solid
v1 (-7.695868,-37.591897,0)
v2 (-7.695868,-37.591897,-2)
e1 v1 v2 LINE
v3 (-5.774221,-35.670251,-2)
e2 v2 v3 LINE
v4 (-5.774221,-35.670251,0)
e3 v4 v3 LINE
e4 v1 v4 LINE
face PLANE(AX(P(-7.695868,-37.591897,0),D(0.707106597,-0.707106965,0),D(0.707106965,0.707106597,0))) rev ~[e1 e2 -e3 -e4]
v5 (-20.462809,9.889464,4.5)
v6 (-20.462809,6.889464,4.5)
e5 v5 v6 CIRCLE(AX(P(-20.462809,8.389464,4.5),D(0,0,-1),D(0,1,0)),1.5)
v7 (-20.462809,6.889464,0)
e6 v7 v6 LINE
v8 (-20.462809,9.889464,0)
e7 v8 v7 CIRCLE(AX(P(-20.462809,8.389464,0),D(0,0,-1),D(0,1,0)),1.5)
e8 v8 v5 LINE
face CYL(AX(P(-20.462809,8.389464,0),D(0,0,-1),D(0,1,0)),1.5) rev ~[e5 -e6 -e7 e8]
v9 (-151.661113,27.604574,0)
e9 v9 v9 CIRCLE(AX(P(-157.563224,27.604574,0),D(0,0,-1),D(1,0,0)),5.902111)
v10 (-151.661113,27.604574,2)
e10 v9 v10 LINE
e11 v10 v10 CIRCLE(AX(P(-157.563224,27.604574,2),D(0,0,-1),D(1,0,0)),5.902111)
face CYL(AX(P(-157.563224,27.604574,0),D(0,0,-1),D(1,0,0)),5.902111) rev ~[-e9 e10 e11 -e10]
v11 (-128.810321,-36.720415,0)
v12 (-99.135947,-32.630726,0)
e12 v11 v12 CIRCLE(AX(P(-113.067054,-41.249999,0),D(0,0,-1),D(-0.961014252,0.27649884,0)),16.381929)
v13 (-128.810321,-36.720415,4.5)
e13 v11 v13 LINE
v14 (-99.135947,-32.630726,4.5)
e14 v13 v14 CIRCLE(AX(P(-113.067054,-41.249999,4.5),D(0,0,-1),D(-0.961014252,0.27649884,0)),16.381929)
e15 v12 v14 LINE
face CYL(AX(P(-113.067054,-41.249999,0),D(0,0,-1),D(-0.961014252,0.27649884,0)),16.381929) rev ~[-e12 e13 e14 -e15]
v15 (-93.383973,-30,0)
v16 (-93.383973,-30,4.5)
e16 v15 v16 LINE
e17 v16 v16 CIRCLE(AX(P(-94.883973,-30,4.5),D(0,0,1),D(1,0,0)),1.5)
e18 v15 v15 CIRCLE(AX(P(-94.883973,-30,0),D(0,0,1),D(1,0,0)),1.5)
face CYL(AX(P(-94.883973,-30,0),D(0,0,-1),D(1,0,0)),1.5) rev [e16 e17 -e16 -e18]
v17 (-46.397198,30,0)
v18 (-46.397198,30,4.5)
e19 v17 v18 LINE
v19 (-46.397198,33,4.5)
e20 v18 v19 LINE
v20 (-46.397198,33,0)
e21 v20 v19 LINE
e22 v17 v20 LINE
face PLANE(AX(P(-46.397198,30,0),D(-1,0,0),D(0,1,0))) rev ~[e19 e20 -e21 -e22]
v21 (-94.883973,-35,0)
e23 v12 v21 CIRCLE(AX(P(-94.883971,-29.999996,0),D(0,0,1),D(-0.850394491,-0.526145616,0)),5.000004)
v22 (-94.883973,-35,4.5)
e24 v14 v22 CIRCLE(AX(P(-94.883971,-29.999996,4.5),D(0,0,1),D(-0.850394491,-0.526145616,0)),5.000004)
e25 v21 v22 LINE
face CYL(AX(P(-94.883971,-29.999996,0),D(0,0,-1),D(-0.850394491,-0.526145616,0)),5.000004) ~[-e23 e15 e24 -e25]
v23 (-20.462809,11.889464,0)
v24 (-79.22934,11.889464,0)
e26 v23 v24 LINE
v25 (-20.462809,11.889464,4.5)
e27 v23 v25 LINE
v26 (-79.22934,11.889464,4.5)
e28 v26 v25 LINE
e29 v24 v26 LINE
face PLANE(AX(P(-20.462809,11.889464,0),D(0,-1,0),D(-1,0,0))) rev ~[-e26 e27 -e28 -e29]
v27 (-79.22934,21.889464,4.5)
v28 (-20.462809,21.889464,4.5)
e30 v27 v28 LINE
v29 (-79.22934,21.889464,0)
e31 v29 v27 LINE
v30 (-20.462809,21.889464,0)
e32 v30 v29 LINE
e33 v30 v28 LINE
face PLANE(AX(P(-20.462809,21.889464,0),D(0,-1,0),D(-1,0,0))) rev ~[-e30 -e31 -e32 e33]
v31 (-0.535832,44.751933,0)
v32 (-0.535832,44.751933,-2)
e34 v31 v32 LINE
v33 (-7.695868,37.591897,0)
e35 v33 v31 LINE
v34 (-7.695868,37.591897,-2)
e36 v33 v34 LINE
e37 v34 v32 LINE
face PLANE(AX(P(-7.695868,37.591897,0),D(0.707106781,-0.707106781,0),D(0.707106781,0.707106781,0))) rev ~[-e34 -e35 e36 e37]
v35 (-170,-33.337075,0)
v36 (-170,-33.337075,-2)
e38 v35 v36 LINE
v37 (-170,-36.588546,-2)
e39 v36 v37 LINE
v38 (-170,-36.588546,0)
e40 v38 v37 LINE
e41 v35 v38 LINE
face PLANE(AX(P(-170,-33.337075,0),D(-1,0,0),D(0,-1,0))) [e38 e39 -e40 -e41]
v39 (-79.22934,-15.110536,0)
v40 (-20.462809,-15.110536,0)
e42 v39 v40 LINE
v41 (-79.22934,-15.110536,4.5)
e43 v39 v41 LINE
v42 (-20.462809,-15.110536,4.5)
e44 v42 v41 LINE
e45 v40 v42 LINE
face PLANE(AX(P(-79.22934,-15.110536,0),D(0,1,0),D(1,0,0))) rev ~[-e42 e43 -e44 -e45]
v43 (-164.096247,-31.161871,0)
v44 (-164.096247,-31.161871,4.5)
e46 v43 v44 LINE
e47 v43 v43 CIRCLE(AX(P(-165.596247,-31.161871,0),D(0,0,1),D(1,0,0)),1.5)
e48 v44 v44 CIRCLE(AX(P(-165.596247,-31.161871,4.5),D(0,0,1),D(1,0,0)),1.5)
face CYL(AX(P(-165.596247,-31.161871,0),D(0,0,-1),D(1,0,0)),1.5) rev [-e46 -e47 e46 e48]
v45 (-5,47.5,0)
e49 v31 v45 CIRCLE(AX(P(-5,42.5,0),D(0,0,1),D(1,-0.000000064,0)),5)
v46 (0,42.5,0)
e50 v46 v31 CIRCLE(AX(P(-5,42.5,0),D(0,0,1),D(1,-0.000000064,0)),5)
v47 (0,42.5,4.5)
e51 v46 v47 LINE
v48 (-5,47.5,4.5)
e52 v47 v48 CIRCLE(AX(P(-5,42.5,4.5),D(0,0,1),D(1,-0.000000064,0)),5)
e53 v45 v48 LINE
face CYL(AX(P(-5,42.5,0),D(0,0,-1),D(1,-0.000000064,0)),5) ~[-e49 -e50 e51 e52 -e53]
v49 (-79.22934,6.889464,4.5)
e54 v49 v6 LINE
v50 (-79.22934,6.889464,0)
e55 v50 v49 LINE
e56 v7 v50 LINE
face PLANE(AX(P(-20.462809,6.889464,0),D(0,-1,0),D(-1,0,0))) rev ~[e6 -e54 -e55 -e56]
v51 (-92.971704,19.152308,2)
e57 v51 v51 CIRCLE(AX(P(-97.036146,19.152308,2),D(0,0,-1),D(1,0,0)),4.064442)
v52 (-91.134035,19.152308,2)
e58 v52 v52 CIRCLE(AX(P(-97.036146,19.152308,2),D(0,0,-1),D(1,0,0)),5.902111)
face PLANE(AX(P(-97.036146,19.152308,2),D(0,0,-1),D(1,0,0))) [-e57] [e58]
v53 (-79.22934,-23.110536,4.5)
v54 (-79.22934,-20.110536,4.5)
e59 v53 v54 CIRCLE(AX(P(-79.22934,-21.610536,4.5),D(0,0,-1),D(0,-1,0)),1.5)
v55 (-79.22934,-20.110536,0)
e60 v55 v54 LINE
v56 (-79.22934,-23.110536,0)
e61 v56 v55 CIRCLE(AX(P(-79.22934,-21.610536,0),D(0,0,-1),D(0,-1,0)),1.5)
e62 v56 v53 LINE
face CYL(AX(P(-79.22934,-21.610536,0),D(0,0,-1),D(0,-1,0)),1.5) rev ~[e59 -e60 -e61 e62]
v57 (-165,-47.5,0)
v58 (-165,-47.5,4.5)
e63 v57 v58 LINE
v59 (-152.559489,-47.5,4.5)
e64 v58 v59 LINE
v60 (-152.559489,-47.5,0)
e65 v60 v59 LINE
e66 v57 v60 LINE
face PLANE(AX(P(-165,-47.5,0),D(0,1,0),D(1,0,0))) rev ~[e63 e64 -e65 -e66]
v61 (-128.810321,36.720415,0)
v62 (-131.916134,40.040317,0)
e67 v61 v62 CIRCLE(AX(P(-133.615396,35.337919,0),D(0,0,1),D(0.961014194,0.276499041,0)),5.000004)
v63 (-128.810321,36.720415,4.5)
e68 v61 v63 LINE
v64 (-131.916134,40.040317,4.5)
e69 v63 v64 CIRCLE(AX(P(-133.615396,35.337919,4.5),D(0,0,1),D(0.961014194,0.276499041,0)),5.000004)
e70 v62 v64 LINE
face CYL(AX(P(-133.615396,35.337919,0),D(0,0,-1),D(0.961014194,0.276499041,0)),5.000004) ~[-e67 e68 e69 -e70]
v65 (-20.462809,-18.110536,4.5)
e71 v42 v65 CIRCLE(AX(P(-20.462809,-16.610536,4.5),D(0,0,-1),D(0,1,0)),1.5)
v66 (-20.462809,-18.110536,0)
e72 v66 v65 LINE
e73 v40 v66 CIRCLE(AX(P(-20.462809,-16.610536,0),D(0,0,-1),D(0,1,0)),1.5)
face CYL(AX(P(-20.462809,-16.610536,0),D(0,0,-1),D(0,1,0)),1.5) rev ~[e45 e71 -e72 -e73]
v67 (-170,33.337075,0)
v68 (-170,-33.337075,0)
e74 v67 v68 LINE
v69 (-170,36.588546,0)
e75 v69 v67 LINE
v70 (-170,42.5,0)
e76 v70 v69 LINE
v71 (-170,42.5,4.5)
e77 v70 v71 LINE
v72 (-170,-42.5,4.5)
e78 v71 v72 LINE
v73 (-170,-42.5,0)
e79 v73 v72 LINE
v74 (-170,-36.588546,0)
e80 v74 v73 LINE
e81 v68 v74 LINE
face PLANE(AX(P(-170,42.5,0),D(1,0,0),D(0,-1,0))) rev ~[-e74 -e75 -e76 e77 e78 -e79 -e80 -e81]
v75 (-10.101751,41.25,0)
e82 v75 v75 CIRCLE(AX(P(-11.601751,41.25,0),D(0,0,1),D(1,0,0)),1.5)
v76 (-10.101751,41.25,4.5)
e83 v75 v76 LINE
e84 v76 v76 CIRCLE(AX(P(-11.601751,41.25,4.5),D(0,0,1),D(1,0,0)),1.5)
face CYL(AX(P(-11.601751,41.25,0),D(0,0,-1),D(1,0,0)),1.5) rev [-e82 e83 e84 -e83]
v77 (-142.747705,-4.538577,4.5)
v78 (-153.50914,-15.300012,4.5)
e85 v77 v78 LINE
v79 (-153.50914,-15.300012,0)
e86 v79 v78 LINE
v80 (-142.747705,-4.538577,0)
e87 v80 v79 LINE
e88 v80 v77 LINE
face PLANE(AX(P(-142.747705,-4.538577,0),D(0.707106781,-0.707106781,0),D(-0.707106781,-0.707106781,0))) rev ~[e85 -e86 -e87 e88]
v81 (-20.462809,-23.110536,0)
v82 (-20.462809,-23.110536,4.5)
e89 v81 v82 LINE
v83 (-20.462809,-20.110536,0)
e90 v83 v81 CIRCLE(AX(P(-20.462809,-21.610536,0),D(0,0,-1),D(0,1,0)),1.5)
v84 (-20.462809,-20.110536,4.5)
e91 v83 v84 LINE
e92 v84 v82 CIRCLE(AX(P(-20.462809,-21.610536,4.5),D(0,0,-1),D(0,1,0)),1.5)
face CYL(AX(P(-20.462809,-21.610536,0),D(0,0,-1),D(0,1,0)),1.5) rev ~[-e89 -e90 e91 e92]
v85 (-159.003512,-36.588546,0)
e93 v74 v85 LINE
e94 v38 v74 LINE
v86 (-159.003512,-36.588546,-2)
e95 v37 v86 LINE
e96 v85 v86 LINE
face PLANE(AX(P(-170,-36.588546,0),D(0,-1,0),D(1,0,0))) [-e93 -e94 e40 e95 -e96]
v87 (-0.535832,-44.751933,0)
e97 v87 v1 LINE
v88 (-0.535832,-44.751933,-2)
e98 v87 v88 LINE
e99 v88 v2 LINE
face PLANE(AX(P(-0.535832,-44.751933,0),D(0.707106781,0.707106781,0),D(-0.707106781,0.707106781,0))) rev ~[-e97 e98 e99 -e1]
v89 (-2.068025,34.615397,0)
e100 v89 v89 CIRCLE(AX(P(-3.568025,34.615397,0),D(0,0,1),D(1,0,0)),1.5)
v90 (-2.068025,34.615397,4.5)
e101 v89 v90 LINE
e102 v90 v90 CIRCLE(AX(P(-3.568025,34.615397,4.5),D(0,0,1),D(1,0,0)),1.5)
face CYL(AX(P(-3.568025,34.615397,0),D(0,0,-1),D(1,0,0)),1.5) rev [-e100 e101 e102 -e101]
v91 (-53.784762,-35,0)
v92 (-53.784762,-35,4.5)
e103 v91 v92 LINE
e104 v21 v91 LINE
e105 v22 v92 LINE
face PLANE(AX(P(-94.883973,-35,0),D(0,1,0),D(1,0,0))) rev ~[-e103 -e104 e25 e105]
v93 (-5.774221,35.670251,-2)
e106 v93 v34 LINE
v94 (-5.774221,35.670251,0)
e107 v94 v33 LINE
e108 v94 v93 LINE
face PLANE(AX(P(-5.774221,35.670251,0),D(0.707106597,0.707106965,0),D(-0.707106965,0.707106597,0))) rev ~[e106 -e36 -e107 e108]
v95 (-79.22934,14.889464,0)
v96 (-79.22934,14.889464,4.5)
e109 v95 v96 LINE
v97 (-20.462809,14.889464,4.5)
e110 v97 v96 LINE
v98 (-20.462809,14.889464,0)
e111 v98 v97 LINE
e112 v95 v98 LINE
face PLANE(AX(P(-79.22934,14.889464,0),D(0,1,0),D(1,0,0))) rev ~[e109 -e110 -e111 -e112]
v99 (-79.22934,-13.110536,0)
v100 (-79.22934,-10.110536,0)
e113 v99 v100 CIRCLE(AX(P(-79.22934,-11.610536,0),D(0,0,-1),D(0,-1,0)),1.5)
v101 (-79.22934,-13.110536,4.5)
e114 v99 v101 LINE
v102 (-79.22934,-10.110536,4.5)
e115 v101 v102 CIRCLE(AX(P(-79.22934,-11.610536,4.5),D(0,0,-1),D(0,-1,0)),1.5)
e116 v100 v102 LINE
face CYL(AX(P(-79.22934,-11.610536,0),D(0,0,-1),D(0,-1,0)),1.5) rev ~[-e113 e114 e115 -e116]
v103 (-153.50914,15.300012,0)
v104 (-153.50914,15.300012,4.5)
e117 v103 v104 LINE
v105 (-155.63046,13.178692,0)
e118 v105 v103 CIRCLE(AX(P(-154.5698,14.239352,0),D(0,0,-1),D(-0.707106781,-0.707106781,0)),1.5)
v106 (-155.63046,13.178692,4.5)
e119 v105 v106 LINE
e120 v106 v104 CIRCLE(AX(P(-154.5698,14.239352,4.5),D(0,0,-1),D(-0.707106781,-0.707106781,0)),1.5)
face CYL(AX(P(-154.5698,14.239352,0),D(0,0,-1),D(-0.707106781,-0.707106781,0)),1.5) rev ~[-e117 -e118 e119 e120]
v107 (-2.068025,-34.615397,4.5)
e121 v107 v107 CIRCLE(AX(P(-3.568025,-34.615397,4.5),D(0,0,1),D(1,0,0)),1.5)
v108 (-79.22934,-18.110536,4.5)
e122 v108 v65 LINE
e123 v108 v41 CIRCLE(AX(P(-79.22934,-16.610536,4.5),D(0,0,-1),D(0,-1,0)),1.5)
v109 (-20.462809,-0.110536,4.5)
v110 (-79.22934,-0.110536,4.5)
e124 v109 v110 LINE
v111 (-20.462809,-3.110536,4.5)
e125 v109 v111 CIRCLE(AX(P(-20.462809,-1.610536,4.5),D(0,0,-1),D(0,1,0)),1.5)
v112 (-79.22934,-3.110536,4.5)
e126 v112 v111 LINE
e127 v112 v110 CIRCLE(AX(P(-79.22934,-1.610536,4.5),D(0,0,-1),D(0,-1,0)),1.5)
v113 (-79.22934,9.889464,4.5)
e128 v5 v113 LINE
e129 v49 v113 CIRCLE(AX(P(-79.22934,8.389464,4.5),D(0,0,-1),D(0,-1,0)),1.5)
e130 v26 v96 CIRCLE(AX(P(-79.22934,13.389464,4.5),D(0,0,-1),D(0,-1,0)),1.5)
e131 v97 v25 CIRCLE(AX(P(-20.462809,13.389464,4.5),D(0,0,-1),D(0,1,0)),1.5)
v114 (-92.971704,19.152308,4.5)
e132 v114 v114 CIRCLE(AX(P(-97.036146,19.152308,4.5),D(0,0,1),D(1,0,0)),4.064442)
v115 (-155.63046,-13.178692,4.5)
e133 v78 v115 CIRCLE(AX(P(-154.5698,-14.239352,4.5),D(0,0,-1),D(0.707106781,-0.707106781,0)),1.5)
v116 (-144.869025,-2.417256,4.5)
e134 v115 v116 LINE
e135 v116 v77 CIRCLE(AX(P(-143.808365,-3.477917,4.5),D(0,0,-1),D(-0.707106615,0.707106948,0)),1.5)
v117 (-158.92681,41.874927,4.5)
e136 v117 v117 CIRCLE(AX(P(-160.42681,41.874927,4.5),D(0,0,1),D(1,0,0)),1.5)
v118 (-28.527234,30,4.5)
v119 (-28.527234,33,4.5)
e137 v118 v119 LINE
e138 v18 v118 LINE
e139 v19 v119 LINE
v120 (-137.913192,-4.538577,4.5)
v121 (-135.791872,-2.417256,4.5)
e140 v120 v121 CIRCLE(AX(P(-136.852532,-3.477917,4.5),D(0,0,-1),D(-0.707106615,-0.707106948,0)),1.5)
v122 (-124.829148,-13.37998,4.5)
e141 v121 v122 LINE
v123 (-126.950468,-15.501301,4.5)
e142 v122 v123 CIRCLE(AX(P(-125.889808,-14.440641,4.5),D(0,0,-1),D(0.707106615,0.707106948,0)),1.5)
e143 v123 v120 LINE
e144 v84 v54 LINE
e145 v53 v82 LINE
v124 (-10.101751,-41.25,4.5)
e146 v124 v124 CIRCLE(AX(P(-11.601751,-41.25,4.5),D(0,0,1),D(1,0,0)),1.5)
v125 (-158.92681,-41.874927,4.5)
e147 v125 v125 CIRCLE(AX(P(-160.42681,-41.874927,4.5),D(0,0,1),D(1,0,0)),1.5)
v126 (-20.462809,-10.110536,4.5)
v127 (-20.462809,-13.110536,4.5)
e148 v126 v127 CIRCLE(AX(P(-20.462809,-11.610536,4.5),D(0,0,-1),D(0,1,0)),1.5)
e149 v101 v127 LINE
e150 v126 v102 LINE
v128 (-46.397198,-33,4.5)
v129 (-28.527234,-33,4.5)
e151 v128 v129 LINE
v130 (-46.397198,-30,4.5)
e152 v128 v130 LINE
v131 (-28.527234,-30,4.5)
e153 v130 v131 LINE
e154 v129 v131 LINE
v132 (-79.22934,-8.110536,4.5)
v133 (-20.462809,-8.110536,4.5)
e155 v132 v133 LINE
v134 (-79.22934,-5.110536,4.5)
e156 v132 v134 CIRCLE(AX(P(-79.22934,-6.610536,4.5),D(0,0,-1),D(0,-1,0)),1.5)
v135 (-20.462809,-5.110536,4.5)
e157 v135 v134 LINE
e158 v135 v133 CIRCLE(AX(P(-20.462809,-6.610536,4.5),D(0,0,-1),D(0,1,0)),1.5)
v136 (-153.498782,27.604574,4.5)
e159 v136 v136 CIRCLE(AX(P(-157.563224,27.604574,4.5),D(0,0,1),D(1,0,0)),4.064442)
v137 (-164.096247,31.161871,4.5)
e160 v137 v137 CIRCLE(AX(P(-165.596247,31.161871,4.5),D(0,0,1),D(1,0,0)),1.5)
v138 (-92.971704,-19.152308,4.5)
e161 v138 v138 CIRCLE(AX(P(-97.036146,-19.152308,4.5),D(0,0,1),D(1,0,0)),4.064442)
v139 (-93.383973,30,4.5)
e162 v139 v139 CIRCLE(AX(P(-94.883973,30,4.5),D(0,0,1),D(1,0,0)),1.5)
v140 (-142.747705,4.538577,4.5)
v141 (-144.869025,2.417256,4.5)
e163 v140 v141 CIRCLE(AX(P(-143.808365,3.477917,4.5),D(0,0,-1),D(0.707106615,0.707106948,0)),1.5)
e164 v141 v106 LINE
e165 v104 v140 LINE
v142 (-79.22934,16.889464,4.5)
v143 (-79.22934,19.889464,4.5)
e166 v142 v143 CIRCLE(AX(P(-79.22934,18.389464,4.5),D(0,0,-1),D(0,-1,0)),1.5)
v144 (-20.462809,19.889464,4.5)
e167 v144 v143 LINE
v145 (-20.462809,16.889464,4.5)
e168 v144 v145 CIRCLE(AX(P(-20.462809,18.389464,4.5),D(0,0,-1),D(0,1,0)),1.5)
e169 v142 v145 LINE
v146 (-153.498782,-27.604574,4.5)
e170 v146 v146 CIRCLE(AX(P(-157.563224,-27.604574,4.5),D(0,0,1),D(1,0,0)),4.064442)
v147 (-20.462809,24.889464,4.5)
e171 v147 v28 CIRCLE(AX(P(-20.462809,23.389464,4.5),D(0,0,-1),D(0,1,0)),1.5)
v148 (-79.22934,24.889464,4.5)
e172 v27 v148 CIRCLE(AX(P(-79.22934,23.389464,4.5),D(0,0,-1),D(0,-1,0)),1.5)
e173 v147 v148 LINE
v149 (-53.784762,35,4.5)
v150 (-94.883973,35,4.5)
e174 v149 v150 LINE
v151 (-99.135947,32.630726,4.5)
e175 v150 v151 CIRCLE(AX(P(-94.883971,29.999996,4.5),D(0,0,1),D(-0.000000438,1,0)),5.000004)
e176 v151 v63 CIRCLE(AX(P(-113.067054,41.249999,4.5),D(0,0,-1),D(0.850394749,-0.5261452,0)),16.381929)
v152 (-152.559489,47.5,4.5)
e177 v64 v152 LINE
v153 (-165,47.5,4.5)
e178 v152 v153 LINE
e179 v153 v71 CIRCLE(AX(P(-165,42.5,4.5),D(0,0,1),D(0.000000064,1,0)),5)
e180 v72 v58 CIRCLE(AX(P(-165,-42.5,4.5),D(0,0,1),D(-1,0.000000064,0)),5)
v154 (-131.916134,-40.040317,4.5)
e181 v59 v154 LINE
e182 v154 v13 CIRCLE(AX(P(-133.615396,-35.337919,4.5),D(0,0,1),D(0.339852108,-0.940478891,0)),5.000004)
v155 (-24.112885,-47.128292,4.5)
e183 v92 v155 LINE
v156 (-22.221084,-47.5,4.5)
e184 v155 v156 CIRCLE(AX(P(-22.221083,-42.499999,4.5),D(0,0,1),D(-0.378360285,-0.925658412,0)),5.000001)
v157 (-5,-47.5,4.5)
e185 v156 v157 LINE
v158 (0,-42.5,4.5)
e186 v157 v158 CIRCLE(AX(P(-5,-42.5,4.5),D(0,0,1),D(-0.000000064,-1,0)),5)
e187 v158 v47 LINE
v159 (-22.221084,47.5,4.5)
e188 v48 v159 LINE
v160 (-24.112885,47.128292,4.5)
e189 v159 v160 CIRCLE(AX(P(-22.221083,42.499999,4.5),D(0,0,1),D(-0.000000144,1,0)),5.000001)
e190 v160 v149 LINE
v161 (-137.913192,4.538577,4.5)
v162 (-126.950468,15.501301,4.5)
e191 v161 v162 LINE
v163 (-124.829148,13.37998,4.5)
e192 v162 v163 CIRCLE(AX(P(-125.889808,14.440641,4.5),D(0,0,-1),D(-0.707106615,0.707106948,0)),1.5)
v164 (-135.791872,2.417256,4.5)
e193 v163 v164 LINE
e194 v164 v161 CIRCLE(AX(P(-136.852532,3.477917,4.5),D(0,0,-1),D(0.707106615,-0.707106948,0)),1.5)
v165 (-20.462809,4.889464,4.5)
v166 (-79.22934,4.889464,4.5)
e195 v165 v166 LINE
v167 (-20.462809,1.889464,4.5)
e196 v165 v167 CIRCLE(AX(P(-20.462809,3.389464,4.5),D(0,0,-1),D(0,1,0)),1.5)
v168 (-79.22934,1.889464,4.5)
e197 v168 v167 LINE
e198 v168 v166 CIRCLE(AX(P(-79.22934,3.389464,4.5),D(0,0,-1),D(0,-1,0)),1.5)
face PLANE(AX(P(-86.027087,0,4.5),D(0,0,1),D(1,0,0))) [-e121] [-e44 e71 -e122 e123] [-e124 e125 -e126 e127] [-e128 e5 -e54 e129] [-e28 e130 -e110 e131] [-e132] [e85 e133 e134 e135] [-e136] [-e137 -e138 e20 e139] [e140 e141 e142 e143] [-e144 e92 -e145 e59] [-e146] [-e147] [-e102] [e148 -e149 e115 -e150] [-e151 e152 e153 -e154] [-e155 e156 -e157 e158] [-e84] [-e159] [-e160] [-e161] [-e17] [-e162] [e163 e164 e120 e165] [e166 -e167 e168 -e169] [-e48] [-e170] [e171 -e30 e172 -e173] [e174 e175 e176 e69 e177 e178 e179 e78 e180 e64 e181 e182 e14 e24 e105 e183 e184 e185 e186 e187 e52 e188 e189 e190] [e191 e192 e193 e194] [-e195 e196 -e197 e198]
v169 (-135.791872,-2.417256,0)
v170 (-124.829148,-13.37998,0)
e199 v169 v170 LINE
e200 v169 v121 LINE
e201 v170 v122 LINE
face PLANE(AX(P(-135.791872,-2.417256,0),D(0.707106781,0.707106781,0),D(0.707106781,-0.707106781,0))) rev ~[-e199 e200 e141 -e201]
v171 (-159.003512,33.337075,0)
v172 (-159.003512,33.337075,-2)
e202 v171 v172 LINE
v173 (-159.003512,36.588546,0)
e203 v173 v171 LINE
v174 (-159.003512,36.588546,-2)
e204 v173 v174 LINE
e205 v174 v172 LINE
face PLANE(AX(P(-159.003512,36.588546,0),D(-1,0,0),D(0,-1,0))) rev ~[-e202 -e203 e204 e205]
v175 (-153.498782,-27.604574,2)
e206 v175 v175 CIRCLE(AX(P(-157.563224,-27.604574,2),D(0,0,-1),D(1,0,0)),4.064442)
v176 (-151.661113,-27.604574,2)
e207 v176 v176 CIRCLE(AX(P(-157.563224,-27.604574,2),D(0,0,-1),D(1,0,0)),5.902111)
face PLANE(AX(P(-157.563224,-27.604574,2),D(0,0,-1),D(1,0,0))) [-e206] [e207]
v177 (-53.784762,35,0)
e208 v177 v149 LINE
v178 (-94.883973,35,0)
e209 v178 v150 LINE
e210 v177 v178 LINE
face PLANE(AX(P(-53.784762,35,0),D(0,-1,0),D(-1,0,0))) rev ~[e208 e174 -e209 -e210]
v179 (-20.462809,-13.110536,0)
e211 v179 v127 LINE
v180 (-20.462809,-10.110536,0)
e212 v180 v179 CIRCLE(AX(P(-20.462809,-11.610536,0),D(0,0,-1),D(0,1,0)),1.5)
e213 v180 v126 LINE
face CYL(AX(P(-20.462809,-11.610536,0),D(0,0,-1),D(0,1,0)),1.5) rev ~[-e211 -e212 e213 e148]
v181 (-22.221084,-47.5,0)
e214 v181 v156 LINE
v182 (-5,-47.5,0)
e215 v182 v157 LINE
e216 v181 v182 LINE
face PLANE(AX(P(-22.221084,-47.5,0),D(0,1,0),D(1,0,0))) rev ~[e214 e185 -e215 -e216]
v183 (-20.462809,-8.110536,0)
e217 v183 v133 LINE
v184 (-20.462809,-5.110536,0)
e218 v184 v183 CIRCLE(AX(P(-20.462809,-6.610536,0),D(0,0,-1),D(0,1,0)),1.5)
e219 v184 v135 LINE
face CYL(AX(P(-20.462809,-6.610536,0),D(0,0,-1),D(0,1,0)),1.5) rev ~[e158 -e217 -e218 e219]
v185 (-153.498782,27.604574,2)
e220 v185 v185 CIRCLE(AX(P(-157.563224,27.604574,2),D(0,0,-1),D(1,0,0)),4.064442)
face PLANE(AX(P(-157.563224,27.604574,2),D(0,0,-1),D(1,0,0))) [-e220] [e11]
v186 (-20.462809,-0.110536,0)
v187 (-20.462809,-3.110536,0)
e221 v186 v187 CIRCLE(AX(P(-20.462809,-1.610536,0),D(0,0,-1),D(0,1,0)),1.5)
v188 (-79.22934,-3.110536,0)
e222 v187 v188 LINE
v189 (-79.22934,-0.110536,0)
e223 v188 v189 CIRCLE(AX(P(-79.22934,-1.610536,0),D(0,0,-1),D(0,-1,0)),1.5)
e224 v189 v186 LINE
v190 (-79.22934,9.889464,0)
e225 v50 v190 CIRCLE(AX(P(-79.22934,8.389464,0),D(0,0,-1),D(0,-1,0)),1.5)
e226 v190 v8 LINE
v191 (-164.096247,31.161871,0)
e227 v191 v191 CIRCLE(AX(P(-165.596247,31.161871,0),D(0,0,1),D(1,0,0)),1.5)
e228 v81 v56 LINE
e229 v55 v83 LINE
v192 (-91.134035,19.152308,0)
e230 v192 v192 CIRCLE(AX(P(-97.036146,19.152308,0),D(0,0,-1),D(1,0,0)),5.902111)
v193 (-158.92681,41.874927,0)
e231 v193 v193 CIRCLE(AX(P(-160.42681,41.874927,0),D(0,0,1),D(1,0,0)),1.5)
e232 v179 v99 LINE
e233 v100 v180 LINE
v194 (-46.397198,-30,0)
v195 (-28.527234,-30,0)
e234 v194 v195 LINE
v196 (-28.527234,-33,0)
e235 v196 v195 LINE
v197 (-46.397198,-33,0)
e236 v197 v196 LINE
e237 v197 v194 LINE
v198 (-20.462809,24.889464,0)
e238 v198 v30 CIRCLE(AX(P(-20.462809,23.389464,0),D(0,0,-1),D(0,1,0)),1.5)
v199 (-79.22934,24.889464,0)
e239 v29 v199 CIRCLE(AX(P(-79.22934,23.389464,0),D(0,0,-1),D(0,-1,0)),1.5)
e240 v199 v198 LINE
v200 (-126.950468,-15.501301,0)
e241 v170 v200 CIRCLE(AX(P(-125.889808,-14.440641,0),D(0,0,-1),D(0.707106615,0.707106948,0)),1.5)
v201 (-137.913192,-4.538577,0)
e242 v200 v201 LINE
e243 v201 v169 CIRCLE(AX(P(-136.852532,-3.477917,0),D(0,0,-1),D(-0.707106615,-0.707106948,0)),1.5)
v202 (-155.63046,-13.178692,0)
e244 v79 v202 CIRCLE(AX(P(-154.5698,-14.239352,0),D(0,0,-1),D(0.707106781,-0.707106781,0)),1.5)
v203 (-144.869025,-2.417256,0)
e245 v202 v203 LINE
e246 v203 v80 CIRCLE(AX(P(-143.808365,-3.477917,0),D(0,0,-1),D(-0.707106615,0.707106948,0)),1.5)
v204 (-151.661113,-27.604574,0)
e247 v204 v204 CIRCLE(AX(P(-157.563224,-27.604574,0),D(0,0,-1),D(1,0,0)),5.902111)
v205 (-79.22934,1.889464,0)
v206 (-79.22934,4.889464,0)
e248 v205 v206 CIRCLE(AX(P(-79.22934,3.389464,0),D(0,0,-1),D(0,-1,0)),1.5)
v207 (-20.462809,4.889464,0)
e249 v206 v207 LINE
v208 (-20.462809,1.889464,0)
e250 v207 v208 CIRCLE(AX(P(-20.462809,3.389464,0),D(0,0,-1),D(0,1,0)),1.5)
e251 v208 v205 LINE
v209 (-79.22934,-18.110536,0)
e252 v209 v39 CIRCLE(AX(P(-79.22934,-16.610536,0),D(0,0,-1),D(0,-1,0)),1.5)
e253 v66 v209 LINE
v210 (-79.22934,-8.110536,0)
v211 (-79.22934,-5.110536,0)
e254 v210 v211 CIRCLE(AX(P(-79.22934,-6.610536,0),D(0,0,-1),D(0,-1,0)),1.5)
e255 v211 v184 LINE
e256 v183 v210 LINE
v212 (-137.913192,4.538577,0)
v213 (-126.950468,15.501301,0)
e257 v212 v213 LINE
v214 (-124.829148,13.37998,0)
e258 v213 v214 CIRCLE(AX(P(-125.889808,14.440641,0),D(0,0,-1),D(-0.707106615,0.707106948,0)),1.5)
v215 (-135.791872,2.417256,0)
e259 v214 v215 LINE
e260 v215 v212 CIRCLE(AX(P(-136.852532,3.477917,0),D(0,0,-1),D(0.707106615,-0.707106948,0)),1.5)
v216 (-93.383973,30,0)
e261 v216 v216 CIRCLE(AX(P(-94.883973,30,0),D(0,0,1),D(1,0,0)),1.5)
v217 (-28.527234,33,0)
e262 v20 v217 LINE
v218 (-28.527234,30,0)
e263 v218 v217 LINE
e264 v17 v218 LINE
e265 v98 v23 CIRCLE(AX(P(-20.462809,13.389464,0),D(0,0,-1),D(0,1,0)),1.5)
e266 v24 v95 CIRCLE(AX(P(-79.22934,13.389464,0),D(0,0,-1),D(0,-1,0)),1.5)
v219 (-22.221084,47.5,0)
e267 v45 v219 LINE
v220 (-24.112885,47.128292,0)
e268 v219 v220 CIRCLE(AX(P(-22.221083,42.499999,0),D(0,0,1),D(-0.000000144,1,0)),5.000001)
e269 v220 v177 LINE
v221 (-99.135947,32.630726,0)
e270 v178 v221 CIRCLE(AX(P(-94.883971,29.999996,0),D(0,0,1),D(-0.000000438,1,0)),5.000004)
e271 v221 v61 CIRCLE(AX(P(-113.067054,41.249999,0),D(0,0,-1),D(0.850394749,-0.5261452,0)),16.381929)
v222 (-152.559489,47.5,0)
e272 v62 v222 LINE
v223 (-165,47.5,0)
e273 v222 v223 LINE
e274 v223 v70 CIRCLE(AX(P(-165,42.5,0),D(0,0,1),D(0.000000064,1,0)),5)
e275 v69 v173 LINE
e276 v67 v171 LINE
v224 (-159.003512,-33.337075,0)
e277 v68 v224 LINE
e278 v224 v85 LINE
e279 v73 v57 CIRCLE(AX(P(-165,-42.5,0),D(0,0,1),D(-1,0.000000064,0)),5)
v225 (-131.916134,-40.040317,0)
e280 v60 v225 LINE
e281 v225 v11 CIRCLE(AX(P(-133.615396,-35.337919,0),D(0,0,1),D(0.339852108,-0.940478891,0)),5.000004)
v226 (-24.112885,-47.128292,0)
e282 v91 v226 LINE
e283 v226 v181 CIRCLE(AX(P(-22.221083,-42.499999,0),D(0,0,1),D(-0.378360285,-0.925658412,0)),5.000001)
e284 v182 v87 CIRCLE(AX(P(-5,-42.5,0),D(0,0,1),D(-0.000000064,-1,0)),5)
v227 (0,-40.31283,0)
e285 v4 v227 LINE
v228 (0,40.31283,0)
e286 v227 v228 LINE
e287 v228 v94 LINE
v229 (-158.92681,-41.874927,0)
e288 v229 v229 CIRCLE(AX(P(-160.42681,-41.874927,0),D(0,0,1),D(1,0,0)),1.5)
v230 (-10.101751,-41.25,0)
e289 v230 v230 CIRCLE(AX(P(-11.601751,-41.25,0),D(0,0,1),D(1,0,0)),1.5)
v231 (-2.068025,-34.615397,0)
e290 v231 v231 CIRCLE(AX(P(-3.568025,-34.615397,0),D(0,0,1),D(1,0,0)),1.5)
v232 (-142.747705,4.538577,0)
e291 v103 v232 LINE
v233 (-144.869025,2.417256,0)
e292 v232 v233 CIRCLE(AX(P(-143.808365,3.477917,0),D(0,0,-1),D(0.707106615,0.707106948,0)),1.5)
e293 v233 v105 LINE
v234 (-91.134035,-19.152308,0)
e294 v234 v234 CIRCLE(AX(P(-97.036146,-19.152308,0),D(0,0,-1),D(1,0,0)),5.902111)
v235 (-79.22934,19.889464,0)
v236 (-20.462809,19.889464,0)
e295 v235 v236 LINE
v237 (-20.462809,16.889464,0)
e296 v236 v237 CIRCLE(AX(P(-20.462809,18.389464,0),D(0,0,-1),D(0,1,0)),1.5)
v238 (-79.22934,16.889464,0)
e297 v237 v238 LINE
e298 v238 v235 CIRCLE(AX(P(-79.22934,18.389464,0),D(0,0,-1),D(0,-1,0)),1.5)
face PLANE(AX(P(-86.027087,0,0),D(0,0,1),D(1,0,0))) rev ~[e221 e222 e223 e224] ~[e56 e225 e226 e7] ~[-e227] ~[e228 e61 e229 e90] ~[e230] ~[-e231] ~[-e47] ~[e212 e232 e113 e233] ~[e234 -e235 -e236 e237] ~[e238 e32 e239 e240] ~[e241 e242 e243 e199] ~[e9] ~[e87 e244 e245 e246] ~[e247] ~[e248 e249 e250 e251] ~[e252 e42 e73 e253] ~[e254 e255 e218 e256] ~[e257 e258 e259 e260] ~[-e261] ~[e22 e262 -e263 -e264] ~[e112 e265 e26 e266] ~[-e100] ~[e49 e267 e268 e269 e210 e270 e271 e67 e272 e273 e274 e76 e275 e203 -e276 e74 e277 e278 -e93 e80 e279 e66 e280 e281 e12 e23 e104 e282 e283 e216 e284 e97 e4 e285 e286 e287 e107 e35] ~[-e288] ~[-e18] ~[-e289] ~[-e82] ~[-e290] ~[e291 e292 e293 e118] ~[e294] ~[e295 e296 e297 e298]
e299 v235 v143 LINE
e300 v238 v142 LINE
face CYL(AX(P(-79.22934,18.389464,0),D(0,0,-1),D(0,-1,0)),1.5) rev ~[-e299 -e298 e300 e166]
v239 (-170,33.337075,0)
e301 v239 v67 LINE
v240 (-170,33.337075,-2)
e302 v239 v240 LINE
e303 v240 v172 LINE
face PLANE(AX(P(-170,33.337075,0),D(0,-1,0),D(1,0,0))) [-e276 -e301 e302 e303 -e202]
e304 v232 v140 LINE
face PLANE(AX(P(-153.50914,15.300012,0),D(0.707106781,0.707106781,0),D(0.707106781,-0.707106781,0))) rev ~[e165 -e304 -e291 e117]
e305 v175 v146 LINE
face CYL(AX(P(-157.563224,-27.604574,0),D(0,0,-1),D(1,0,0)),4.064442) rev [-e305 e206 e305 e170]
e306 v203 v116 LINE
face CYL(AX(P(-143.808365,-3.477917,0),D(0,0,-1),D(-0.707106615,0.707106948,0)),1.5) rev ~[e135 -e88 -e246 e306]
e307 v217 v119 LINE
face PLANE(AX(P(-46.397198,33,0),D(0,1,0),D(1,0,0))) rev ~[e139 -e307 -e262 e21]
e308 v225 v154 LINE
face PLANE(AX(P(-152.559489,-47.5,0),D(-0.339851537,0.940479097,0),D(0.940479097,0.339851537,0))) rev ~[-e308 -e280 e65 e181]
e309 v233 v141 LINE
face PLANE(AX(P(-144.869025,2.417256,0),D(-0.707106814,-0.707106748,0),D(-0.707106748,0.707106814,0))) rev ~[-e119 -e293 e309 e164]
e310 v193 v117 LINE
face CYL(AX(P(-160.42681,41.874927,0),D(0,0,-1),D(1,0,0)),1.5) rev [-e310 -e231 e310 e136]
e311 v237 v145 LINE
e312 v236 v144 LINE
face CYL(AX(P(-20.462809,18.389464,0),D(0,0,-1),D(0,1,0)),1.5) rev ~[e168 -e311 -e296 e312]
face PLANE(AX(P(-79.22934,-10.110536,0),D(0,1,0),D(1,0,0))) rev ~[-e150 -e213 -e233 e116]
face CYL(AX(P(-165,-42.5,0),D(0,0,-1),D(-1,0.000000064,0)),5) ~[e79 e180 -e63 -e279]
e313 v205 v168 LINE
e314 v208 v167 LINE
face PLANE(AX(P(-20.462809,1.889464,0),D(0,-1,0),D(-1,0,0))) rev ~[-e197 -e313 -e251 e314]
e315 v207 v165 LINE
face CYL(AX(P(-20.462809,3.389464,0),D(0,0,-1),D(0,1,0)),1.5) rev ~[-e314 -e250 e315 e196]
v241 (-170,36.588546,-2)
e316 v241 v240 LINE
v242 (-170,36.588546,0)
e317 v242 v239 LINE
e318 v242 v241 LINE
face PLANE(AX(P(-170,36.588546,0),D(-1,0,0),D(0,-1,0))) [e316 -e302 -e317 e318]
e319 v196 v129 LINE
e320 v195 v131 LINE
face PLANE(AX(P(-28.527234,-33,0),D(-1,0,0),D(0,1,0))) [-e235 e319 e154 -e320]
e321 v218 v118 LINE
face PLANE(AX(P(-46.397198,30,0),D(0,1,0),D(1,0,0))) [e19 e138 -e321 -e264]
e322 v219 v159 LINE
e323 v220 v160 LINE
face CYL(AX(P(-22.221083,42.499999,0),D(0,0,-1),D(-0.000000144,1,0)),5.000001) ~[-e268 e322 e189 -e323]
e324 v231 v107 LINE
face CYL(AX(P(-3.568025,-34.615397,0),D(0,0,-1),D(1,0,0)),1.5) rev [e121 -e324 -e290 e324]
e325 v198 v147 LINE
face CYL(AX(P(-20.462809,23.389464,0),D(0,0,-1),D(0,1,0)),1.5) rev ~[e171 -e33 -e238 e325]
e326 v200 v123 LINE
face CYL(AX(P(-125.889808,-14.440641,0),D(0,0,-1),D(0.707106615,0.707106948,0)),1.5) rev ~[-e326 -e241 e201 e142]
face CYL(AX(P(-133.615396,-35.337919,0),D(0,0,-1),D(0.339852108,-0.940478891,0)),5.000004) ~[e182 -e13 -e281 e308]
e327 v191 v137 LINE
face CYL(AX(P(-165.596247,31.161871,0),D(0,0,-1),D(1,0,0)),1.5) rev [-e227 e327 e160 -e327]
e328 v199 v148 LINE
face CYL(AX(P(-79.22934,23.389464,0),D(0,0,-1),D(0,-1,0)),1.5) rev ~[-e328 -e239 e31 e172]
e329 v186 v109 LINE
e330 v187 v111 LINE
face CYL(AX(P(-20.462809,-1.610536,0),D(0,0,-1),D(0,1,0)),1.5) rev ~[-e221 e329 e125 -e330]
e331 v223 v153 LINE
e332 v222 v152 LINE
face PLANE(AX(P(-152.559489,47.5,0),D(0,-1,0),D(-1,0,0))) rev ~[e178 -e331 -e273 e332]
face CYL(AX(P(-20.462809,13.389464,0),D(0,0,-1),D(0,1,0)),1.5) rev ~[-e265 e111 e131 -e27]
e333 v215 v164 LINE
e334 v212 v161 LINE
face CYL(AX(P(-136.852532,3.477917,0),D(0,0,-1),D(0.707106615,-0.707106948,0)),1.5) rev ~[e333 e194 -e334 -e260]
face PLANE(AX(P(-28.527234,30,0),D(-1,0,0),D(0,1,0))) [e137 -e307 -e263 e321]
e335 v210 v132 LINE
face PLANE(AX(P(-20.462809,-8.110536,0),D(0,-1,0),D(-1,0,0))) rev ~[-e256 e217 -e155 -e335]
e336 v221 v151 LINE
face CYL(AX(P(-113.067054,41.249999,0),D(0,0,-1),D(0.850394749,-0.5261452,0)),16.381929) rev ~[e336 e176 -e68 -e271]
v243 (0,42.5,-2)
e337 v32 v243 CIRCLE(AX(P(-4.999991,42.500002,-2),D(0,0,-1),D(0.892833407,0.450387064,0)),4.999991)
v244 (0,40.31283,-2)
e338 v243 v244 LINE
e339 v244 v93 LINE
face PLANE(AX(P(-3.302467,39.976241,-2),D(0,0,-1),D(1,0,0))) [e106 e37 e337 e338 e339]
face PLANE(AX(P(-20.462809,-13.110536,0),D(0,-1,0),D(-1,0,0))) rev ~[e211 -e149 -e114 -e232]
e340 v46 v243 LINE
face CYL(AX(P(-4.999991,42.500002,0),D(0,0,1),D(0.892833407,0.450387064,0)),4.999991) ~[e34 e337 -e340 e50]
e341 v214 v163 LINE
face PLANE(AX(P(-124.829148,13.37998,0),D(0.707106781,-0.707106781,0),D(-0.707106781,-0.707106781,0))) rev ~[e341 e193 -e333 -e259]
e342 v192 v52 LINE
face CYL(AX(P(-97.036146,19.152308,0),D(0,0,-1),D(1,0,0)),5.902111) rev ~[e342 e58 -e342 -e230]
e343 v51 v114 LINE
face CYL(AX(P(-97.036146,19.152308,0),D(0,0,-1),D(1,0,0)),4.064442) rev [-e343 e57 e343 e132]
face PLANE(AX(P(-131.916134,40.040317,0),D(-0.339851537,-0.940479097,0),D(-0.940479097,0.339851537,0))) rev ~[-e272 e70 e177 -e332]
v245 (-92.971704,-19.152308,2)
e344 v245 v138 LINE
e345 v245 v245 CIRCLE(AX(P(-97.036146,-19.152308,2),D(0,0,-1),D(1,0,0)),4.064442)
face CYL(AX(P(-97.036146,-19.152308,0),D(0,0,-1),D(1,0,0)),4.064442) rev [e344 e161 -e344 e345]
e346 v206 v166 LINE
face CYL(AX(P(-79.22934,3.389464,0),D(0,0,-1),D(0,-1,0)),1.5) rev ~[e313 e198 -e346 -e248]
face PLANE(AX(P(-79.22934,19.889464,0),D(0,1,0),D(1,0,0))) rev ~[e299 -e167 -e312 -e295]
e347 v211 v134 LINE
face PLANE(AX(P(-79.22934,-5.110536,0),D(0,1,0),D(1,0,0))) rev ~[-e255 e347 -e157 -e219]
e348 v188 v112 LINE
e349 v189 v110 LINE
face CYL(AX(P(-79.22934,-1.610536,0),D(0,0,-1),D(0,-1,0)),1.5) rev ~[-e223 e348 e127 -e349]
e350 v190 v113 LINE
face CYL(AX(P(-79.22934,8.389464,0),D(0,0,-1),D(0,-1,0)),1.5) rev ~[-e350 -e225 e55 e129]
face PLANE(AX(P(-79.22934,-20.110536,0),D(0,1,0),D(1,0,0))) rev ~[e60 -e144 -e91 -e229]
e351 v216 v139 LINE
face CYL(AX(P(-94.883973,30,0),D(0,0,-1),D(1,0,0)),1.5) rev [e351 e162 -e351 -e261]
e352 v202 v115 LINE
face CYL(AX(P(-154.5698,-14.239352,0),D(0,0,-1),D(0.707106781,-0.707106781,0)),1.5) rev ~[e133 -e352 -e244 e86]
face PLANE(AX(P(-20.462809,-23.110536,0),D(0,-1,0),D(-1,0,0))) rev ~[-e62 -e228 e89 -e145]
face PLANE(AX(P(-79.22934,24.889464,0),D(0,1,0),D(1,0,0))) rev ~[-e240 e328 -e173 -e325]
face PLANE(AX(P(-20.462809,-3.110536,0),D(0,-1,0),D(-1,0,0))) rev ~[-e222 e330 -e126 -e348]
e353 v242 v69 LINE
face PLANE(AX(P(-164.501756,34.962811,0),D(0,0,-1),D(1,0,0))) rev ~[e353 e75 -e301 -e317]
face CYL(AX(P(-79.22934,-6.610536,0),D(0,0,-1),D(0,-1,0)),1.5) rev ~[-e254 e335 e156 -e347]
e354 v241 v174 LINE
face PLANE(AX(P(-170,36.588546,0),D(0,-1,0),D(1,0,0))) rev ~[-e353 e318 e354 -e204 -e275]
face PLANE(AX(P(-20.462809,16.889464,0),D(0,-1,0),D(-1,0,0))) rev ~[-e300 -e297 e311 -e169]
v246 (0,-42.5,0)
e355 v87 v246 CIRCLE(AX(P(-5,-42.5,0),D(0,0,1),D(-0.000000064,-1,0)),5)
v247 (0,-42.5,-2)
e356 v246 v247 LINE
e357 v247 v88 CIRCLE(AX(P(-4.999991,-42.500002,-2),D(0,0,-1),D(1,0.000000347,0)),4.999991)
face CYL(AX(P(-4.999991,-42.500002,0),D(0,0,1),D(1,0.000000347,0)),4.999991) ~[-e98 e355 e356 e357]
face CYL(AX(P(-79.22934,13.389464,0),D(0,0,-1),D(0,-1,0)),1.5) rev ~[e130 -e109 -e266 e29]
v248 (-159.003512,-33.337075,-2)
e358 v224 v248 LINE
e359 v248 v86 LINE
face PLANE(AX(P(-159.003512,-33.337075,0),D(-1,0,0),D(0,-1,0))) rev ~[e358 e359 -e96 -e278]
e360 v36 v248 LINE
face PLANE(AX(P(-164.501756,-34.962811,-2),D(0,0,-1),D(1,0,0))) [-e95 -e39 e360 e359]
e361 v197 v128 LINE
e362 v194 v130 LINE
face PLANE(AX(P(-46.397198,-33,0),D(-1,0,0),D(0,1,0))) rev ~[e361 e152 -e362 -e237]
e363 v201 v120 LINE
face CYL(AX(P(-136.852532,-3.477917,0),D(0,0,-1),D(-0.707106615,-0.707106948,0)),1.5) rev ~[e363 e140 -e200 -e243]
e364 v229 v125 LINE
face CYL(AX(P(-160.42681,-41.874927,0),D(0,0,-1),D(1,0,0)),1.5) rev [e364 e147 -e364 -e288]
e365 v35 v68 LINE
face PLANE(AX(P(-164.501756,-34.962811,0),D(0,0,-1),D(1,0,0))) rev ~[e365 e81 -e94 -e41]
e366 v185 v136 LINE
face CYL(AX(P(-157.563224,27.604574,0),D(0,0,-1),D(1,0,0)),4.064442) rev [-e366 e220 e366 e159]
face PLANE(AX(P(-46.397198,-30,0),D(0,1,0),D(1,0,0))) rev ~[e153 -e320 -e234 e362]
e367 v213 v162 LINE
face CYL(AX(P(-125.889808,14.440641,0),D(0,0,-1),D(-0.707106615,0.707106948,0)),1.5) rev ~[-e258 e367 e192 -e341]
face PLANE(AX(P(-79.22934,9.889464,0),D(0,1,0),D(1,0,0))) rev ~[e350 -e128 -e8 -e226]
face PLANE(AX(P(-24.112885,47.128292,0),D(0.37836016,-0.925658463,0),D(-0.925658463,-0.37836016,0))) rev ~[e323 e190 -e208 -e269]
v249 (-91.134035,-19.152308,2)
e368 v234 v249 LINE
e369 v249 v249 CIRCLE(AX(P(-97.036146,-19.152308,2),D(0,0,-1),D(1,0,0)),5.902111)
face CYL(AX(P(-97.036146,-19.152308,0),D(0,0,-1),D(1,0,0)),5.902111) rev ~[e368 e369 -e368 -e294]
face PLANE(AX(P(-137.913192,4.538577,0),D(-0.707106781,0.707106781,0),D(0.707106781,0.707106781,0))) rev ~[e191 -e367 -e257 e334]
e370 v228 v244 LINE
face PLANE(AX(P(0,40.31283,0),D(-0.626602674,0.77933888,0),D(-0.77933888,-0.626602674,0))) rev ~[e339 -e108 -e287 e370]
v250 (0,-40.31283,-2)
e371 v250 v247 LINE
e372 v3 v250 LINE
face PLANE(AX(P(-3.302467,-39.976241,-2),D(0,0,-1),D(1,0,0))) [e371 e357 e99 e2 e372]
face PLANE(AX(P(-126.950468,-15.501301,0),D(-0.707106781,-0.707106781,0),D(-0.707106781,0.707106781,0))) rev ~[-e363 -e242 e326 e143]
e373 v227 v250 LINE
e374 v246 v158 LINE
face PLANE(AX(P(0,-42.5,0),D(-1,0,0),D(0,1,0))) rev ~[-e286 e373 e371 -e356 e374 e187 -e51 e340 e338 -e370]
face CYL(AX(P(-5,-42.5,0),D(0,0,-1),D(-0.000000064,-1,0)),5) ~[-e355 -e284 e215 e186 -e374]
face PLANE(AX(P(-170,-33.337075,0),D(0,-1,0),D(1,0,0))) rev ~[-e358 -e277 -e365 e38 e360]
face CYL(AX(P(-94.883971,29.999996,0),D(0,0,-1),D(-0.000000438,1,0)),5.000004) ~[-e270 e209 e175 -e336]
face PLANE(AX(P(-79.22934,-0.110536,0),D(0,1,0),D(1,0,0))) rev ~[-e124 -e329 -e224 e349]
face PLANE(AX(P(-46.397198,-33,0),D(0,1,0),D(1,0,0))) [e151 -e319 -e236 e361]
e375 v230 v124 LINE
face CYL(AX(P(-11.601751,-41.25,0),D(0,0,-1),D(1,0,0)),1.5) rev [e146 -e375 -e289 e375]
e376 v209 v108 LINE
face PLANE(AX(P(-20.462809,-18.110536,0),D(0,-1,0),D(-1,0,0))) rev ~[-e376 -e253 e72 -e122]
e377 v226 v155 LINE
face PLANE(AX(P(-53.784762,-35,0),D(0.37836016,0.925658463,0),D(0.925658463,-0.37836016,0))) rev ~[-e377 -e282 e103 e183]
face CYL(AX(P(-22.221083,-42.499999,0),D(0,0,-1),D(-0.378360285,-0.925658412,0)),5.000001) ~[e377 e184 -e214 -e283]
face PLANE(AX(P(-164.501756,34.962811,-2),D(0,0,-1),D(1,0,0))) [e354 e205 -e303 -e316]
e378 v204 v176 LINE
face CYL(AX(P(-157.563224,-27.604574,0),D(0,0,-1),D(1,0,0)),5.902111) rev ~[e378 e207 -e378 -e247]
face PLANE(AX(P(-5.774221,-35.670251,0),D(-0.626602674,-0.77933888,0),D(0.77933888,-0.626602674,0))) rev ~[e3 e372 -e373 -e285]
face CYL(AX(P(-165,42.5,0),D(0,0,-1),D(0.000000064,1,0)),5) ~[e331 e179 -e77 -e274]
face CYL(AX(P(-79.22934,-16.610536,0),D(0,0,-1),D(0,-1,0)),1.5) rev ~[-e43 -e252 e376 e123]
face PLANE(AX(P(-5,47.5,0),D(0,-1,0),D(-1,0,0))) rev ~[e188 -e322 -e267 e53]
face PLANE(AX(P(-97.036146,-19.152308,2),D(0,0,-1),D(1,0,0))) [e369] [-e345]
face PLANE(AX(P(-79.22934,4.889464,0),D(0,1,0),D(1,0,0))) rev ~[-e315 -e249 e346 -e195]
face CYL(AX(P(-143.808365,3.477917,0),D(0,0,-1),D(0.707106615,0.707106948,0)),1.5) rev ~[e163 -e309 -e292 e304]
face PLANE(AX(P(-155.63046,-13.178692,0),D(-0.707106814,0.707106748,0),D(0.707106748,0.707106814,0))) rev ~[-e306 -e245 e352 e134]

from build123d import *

# Parameters (mm, degrees)
F0_R     = 1.5
F0_R_2   = 4.064442
F0_W     = 17.869964
F0_H     = 3
F1_DEPTH = 4.5
F2_W     = 10.996489
F2_H     = 3.251471
F3_DEPTH = 2
F4_R     = 5.902111
F5_DEPTH = 2
F7_DEPTH = 25


with BuildPart() as f1:
    # F0 (on Top) → F1 (new body)
    with BuildSketch(Plane.XY):
        with BuildLine():
            ThreePointArc((0, 42.5), (-1.464466, 46.035534), (-5, 47.5))
            Line((-5, 47.5), (-22.221084, 47.5))
            ThreePointArc((-22.221084, 47.5), (-23.18507, 47.406193), (-24.112885, 47.128292))
            Line((-24.112885, 47.128292), (-53.784762, 35))
            Line((-53.784762, 35), (-94.883973, 35))
            ThreePointArc((-94.883973, 35), (-97.317732, 34.367701), (-99.135947, 32.630726))
            ThreePointArc((-99.135947, 32.630726), (-115.303652, 25.021468), (-128.810321, 36.720415))
            ThreePointArc((-128.810321, 36.720415), (-129.96409, 38.753765), (-131.916134, 40.040317))
            Line((-131.916134, 40.040317), (-152.559489, 47.5))
            Line((-152.559489, 47.5), (-165, 47.5))
            ThreePointArc((-165, 47.5), (-168.535534, 46.035534), (-170, 42.5))
            Line((-170, 42.5), (-170, 35))
            Line((-170, 35), (-170, 0))
            Line((-170, 0), (-170, -35))
            Line((-170, -35), (-170, -42.5))
            ThreePointArc((-170, -42.5), (-168.535534, -46.035534), (-165, -47.5))
            Line((-165, -47.5), (-152.559489, -47.5))
            Line((-152.559489, -47.5), (-131.916134, -40.040317))
            ThreePointArc((-131.916134, -40.040317), (-129.96409, -38.753765), (-128.810321, -36.720415))
            ThreePointArc((-128.810321, -36.720415), (-115.303652, -25.021468), (-99.135947, -32.630726))
            ThreePointArc((-99.135947, -32.630726), (-97.317732, -34.367701), (-94.883973, -35))
            Line((-94.883973, -35), (-53.784762, -35))
            Line((-53.784762, -35), (-24.112885, -47.128292))
            ThreePointArc((-24.112885, -47.128292), (-23.18507, -47.406193), (-22.221084, -47.5))
            Line((-22.221084, -47.5), (-5, -47.5))
            ThreePointArc((-5, -47.5), (-1.464466, -46.035534), (0, -42.5))
            Line((0, -42.5), (0, -35))
            Line((0, -35), (0, 0))
            Line((0, 0), (0, 35))
            Line((0, 35), (0, 42.5))
        make_face()
        with Locations((-160.42681, -41.874927)):
            Circle(F0_R, mode=Mode.SUBTRACT)
        with Locations((-165.596247, -31.161871)):
            Circle(F0_R, mode=Mode.SUBTRACT)
        with Locations((-157.563224, -27.604574)):
            Circle(F0_R_2, mode=Mode.SUBTRACT)
        with Locations((-94.883973, -30)):
            Circle(F0_R, mode=Mode.SUBTRACT)
        with BuildLine():
            Line((-155.63046, -13.178692), (-144.869025, -2.417256))
            ThreePointArc((-144.869025, -2.417256), (-142.747705, -2.417256), (-142.747705, -4.538577))
            Line((-142.747705, -4.538577), (-153.50914, -15.300012))
            ThreePointArc((-153.50914, -15.300012), (-155.63046, -15.300012), (-155.63046, -13.178692))
        make_face(mode=Mode.SUBTRACT)
        with BuildLine():
            Line((-126.950468, -15.501301), (-137.913192, -4.538577))
            ThreePointArc((-137.913192, -4.538577), (-137.913192, -2.417256), (-135.791872, -2.417256))
            Line((-135.791872, -2.417256), (-124.829148, -13.37998))
            ThreePointArc((-124.829148, -13.37998), (-124.829148, -15.501301), (-126.950468, -15.501301))
        make_face(mode=Mode.SUBTRACT)
        with Locations((-97.036146, -19.152308)):
            Circle(F0_R_2, mode=Mode.SUBTRACT)
        with Locations((-11.601751, -41.25)):
            Circle(F0_R, mode=Mode.SUBTRACT)
        with Locations((-37.462216, -31.5)):
            Rectangle(F0_W, F0_H, mode=Mode.SUBTRACT)
        with Locations((-3.568025, -34.615397)):
            Circle(F0_R, mode=Mode.SUBTRACT)
        with BuildLine():
            ThreePointArc((-155.63046, 13.178692), (-155.63046, 15.300012), (-153.50914, 15.300012))
            Line((-153.50914, 15.300012), (-142.747705, 4.538577))
            ThreePointArc((-142.747705, 4.538577), (-142.747705, 2.417256), (-144.869025, 2.417256))
            Line((-144.869025, 2.417256), (-155.63046, 13.178692))
        make_face(mode=Mode.SUBTRACT)
        with BuildLine():
            ThreePointArc((-135.791872, 2.417256), (-137.913192, 2.417256), (-137.913192, 4.538577))
            Line((-137.913192, 4.538577), (-126.950468, 15.501301))
            ThreePointArc((-126.950468, 15.501301), (-124.829148, 15.501301), (-124.829148, 13.37998))
            Line((-124.829148, 13.37998), (-135.791872, 2.417256))
        make_face(mode=Mode.SUBTRACT)
        with Locations((-97.036146, 19.152308)):
            Circle(F0_R_2, mode=Mode.SUBTRACT)
        with Locations((-157.563224, 27.604574)):
            Circle(F0_R_2, mode=Mode.SUBTRACT)
        with Locations((-165.596247, 31.161871)):
            Circle(F0_R, mode=Mode.SUBTRACT)
        with Locations((-160.42681, 41.874927)):
            Circle(F0_R, mode=Mode.SUBTRACT)
        with Locations((-94.883973, 30)):
            Circle(F0_R, mode=Mode.SUBTRACT)
        with Locations((-37.462216, 31.5)):
            Rectangle(F0_W, F0_H, mode=Mode.SUBTRACT)
        with Locations((-3.568025, 34.615397)):
            Circle(F0_R, mode=Mode.SUBTRACT)
        with Locations((-11.601751, 41.25)):
            Circle(F0_R, mode=Mode.SUBTRACT)
    extrude(amount=F1_DEPTH)

    # F2 (on face) → F3 (join)
    with BuildSketch(Plane(origin=(0, 0, 0), x_dir=(1, 0, 0), z_dir=(0, 0, -1))):
        with Locations((-164.501756, 34.962811)):
            Rectangle(F2_W, F2_H)
        with BuildLine():
            Line((-0.535832, 44.751933), (-7.695868, 37.591897))
            Line((-7.695868, 37.591897), (-5.774221, 35.670251))
            Line((-5.774221, 35.670251), (0, 40.31283))
            Line((0, 40.31283), (0, 42.5))
            ThreePointArc((0, 42.5), (-0.135802, 43.657402), (-0.535832, 44.751933))
        make_face()
        with BuildLine():
            Line((0, -42.5), (0, -40.31283))
            Line((0, -40.31283), (-5.774221, -35.670251))
            Line((-5.774221, -35.670251), (-7.695868, -37.591897))
            Line((-7.695868, -37.591897), (-0.535832, -44.751933))
            ThreePointArc((-0.535832, -44.751933), (-0.135802, -43.657402), (0, -42.5))
        make_face()
        with Locations((-164.501756, -34.962811)):
            Rectangle(F2_W, F2_H)
    extrude(amount=F3_DEPTH)

    # F4 (on face) → F5 (cut)
    with BuildSketch(Plane(origin=(0, 0, 0), x_dir=(1, 0, 0), z_dir=(0, 0, -1))):
        with Locations((-97.036146, 19.152308)):
            Circle(F4_R)
        with Locations((-157.563224, 27.604574)):
            Circle(F4_R)
        with Locations((-97.036146, -19.152308)):
            Circle(F4_R)
        with Locations((-157.563224, -27.604574)):
            Circle(F4_R)
    extrude(amount=-F5_DEPTH, mode=Mode.SUBTRACT)

    # F6 (on face) → F7 (cut)
    with BuildSketch(Plane(origin=(0, 0, 0), x_dir=(1, 0, 0), z_dir=(0, 0, -1))):
        with BuildLine():
            ThreePointArc((-79.22934, 23.110536), (-80.72934, 21.610536), (-79.22934, 20.110536))
            Line((-79.22934, 20.110536), (-20.462809, 20.110536))
            ThreePointArc((-20.462809, 20.110536), (-18.962809, 21.610536), (-20.462809, 23.110536))
            Line((-20.462809, 23.110536), (-79.22934, 23.110536))
        make_face()
        with BuildLine():
            Line((-20.462809, 18.110536), (-79.22934, 18.110536))
            ThreePointArc((-79.22934, 18.110536), (-80.72934, 16.610536), (-79.22934, 15.110536))
            Line((-79.22934, 15.110536), (-20.462809, 15.110536))
            ThreePointArc((-20.462809, 15.110536), (-18.962809, 16.610536), (-20.462809, 18.110536))
        make_face()
        with BuildLine():
            Line((-20.462809, 13.110536), (-79.22934, 13.110536))
            ThreePointArc((-79.22934, 13.110536), (-80.72934, 11.610536), (-79.22934, 10.110536))
            Line((-79.22934, 10.110536), (-20.462809, 10.110536))
            ThreePointArc((-20.462809, 10.110536), (-18.962809, 11.610536), (-20.462809, 13.110536))
        make_face()
        with BuildLine():
            Line((-20.462809, 8.110536), (-79.22934, 8.110536))
            ThreePointArc((-79.22934, 8.110536), (-80.72934, 6.610536), (-79.22934, 5.110536))
            Line((-79.22934, 5.110536), (-20.462809, 5.110536))
            ThreePointArc((-20.462809, 5.110536), (-18.962809, 6.610536), (-20.462809, 8.110536))
        make_face()
        with BuildLine():
            Line((-20.462809, 3.110536), (-79.22934, 3.110536))
            ThreePointArc((-79.22934, 3.110536), (-80.72934, 1.610536), (-79.22934, 0.110536))
            Line((-79.22934, 0.110536), (-20.462809, 0.110536))
            ThreePointArc((-20.462809, 0.110536), (-18.962809, 1.610536), (-20.462809, 3.110536))
        make_face()
        with BuildLine():
            Line((-20.462809, -1.889464), (-79.22934, -1.889464))
            ThreePointArc((-79.22934, -1.889464), (-80.72934, -3.389464), (-79.22934, -4.889464))
            Line((-79.22934, -4.889464), (-20.462809, -4.889464))
            ThreePointArc((-20.462809, -4.889464), (-18.962809, -3.389464), (-20.462809, -1.889464))
        make_face()
        with BuildLine():
            Line((-20.462809, -6.889464), (-79.22934, -6.889464))
            ThreePointArc((-79.22934, -6.889464), (-80.72934, -8.389464), (-79.22934, -9.889464))
            Line((-79.22934, -9.889464), (-20.462809, -9.889464))
            ThreePointArc((-20.462809, -9.889464), (-18.962809, -8.389464), (-20.462809, -6.889464))
        make_face()
        with BuildLine():
            Line((-20.462809, -11.889464), (-79.22934, -11.889464))
            ThreePointArc((-79.22934, -11.889464), (-80.72934, -13.389464), (-79.22934, -14.889464))
            Line((-79.22934, -14.889464), (-20.462809, -14.889464))
            ThreePointArc((-20.462809, -14.889464), (-18.962809, -13.389464), (-20.462809, -11.889464))
        make_face()
        with BuildLine():
            Line((-20.462809, -16.889464), (-79.22934, -16.889464))
            ThreePointArc((-79.22934, -16.889464), (-80.72934, -18.389464), (-79.22934, -19.889464))
            Line((-79.22934, -19.889464), (-20.462809, -19.889464))
            ThreePointArc((-20.462809, -19.889464), (-18.962809, -18.389464), (-20.462809, -16.889464))
        make_face()
        with BuildLine():
            Line((-20.462809, -21.889464), (-79.22934, -21.889464))
            ThreePointArc((-79.22934, -21.889464), (-80.72934, -23.389464), (-79.22934, -24.889464))
            Line((-79.22934, -24.889464), (-20.462809, -24.889464))
            ThreePointArc((-20.462809, -24.889464), (-18.962809, -23.389464), (-20.462809, -21.889464))
        make_face()
    extrude(amount=-F7_DEPTH, mode=Mode.SUBTRACT)


solid = f1.part
